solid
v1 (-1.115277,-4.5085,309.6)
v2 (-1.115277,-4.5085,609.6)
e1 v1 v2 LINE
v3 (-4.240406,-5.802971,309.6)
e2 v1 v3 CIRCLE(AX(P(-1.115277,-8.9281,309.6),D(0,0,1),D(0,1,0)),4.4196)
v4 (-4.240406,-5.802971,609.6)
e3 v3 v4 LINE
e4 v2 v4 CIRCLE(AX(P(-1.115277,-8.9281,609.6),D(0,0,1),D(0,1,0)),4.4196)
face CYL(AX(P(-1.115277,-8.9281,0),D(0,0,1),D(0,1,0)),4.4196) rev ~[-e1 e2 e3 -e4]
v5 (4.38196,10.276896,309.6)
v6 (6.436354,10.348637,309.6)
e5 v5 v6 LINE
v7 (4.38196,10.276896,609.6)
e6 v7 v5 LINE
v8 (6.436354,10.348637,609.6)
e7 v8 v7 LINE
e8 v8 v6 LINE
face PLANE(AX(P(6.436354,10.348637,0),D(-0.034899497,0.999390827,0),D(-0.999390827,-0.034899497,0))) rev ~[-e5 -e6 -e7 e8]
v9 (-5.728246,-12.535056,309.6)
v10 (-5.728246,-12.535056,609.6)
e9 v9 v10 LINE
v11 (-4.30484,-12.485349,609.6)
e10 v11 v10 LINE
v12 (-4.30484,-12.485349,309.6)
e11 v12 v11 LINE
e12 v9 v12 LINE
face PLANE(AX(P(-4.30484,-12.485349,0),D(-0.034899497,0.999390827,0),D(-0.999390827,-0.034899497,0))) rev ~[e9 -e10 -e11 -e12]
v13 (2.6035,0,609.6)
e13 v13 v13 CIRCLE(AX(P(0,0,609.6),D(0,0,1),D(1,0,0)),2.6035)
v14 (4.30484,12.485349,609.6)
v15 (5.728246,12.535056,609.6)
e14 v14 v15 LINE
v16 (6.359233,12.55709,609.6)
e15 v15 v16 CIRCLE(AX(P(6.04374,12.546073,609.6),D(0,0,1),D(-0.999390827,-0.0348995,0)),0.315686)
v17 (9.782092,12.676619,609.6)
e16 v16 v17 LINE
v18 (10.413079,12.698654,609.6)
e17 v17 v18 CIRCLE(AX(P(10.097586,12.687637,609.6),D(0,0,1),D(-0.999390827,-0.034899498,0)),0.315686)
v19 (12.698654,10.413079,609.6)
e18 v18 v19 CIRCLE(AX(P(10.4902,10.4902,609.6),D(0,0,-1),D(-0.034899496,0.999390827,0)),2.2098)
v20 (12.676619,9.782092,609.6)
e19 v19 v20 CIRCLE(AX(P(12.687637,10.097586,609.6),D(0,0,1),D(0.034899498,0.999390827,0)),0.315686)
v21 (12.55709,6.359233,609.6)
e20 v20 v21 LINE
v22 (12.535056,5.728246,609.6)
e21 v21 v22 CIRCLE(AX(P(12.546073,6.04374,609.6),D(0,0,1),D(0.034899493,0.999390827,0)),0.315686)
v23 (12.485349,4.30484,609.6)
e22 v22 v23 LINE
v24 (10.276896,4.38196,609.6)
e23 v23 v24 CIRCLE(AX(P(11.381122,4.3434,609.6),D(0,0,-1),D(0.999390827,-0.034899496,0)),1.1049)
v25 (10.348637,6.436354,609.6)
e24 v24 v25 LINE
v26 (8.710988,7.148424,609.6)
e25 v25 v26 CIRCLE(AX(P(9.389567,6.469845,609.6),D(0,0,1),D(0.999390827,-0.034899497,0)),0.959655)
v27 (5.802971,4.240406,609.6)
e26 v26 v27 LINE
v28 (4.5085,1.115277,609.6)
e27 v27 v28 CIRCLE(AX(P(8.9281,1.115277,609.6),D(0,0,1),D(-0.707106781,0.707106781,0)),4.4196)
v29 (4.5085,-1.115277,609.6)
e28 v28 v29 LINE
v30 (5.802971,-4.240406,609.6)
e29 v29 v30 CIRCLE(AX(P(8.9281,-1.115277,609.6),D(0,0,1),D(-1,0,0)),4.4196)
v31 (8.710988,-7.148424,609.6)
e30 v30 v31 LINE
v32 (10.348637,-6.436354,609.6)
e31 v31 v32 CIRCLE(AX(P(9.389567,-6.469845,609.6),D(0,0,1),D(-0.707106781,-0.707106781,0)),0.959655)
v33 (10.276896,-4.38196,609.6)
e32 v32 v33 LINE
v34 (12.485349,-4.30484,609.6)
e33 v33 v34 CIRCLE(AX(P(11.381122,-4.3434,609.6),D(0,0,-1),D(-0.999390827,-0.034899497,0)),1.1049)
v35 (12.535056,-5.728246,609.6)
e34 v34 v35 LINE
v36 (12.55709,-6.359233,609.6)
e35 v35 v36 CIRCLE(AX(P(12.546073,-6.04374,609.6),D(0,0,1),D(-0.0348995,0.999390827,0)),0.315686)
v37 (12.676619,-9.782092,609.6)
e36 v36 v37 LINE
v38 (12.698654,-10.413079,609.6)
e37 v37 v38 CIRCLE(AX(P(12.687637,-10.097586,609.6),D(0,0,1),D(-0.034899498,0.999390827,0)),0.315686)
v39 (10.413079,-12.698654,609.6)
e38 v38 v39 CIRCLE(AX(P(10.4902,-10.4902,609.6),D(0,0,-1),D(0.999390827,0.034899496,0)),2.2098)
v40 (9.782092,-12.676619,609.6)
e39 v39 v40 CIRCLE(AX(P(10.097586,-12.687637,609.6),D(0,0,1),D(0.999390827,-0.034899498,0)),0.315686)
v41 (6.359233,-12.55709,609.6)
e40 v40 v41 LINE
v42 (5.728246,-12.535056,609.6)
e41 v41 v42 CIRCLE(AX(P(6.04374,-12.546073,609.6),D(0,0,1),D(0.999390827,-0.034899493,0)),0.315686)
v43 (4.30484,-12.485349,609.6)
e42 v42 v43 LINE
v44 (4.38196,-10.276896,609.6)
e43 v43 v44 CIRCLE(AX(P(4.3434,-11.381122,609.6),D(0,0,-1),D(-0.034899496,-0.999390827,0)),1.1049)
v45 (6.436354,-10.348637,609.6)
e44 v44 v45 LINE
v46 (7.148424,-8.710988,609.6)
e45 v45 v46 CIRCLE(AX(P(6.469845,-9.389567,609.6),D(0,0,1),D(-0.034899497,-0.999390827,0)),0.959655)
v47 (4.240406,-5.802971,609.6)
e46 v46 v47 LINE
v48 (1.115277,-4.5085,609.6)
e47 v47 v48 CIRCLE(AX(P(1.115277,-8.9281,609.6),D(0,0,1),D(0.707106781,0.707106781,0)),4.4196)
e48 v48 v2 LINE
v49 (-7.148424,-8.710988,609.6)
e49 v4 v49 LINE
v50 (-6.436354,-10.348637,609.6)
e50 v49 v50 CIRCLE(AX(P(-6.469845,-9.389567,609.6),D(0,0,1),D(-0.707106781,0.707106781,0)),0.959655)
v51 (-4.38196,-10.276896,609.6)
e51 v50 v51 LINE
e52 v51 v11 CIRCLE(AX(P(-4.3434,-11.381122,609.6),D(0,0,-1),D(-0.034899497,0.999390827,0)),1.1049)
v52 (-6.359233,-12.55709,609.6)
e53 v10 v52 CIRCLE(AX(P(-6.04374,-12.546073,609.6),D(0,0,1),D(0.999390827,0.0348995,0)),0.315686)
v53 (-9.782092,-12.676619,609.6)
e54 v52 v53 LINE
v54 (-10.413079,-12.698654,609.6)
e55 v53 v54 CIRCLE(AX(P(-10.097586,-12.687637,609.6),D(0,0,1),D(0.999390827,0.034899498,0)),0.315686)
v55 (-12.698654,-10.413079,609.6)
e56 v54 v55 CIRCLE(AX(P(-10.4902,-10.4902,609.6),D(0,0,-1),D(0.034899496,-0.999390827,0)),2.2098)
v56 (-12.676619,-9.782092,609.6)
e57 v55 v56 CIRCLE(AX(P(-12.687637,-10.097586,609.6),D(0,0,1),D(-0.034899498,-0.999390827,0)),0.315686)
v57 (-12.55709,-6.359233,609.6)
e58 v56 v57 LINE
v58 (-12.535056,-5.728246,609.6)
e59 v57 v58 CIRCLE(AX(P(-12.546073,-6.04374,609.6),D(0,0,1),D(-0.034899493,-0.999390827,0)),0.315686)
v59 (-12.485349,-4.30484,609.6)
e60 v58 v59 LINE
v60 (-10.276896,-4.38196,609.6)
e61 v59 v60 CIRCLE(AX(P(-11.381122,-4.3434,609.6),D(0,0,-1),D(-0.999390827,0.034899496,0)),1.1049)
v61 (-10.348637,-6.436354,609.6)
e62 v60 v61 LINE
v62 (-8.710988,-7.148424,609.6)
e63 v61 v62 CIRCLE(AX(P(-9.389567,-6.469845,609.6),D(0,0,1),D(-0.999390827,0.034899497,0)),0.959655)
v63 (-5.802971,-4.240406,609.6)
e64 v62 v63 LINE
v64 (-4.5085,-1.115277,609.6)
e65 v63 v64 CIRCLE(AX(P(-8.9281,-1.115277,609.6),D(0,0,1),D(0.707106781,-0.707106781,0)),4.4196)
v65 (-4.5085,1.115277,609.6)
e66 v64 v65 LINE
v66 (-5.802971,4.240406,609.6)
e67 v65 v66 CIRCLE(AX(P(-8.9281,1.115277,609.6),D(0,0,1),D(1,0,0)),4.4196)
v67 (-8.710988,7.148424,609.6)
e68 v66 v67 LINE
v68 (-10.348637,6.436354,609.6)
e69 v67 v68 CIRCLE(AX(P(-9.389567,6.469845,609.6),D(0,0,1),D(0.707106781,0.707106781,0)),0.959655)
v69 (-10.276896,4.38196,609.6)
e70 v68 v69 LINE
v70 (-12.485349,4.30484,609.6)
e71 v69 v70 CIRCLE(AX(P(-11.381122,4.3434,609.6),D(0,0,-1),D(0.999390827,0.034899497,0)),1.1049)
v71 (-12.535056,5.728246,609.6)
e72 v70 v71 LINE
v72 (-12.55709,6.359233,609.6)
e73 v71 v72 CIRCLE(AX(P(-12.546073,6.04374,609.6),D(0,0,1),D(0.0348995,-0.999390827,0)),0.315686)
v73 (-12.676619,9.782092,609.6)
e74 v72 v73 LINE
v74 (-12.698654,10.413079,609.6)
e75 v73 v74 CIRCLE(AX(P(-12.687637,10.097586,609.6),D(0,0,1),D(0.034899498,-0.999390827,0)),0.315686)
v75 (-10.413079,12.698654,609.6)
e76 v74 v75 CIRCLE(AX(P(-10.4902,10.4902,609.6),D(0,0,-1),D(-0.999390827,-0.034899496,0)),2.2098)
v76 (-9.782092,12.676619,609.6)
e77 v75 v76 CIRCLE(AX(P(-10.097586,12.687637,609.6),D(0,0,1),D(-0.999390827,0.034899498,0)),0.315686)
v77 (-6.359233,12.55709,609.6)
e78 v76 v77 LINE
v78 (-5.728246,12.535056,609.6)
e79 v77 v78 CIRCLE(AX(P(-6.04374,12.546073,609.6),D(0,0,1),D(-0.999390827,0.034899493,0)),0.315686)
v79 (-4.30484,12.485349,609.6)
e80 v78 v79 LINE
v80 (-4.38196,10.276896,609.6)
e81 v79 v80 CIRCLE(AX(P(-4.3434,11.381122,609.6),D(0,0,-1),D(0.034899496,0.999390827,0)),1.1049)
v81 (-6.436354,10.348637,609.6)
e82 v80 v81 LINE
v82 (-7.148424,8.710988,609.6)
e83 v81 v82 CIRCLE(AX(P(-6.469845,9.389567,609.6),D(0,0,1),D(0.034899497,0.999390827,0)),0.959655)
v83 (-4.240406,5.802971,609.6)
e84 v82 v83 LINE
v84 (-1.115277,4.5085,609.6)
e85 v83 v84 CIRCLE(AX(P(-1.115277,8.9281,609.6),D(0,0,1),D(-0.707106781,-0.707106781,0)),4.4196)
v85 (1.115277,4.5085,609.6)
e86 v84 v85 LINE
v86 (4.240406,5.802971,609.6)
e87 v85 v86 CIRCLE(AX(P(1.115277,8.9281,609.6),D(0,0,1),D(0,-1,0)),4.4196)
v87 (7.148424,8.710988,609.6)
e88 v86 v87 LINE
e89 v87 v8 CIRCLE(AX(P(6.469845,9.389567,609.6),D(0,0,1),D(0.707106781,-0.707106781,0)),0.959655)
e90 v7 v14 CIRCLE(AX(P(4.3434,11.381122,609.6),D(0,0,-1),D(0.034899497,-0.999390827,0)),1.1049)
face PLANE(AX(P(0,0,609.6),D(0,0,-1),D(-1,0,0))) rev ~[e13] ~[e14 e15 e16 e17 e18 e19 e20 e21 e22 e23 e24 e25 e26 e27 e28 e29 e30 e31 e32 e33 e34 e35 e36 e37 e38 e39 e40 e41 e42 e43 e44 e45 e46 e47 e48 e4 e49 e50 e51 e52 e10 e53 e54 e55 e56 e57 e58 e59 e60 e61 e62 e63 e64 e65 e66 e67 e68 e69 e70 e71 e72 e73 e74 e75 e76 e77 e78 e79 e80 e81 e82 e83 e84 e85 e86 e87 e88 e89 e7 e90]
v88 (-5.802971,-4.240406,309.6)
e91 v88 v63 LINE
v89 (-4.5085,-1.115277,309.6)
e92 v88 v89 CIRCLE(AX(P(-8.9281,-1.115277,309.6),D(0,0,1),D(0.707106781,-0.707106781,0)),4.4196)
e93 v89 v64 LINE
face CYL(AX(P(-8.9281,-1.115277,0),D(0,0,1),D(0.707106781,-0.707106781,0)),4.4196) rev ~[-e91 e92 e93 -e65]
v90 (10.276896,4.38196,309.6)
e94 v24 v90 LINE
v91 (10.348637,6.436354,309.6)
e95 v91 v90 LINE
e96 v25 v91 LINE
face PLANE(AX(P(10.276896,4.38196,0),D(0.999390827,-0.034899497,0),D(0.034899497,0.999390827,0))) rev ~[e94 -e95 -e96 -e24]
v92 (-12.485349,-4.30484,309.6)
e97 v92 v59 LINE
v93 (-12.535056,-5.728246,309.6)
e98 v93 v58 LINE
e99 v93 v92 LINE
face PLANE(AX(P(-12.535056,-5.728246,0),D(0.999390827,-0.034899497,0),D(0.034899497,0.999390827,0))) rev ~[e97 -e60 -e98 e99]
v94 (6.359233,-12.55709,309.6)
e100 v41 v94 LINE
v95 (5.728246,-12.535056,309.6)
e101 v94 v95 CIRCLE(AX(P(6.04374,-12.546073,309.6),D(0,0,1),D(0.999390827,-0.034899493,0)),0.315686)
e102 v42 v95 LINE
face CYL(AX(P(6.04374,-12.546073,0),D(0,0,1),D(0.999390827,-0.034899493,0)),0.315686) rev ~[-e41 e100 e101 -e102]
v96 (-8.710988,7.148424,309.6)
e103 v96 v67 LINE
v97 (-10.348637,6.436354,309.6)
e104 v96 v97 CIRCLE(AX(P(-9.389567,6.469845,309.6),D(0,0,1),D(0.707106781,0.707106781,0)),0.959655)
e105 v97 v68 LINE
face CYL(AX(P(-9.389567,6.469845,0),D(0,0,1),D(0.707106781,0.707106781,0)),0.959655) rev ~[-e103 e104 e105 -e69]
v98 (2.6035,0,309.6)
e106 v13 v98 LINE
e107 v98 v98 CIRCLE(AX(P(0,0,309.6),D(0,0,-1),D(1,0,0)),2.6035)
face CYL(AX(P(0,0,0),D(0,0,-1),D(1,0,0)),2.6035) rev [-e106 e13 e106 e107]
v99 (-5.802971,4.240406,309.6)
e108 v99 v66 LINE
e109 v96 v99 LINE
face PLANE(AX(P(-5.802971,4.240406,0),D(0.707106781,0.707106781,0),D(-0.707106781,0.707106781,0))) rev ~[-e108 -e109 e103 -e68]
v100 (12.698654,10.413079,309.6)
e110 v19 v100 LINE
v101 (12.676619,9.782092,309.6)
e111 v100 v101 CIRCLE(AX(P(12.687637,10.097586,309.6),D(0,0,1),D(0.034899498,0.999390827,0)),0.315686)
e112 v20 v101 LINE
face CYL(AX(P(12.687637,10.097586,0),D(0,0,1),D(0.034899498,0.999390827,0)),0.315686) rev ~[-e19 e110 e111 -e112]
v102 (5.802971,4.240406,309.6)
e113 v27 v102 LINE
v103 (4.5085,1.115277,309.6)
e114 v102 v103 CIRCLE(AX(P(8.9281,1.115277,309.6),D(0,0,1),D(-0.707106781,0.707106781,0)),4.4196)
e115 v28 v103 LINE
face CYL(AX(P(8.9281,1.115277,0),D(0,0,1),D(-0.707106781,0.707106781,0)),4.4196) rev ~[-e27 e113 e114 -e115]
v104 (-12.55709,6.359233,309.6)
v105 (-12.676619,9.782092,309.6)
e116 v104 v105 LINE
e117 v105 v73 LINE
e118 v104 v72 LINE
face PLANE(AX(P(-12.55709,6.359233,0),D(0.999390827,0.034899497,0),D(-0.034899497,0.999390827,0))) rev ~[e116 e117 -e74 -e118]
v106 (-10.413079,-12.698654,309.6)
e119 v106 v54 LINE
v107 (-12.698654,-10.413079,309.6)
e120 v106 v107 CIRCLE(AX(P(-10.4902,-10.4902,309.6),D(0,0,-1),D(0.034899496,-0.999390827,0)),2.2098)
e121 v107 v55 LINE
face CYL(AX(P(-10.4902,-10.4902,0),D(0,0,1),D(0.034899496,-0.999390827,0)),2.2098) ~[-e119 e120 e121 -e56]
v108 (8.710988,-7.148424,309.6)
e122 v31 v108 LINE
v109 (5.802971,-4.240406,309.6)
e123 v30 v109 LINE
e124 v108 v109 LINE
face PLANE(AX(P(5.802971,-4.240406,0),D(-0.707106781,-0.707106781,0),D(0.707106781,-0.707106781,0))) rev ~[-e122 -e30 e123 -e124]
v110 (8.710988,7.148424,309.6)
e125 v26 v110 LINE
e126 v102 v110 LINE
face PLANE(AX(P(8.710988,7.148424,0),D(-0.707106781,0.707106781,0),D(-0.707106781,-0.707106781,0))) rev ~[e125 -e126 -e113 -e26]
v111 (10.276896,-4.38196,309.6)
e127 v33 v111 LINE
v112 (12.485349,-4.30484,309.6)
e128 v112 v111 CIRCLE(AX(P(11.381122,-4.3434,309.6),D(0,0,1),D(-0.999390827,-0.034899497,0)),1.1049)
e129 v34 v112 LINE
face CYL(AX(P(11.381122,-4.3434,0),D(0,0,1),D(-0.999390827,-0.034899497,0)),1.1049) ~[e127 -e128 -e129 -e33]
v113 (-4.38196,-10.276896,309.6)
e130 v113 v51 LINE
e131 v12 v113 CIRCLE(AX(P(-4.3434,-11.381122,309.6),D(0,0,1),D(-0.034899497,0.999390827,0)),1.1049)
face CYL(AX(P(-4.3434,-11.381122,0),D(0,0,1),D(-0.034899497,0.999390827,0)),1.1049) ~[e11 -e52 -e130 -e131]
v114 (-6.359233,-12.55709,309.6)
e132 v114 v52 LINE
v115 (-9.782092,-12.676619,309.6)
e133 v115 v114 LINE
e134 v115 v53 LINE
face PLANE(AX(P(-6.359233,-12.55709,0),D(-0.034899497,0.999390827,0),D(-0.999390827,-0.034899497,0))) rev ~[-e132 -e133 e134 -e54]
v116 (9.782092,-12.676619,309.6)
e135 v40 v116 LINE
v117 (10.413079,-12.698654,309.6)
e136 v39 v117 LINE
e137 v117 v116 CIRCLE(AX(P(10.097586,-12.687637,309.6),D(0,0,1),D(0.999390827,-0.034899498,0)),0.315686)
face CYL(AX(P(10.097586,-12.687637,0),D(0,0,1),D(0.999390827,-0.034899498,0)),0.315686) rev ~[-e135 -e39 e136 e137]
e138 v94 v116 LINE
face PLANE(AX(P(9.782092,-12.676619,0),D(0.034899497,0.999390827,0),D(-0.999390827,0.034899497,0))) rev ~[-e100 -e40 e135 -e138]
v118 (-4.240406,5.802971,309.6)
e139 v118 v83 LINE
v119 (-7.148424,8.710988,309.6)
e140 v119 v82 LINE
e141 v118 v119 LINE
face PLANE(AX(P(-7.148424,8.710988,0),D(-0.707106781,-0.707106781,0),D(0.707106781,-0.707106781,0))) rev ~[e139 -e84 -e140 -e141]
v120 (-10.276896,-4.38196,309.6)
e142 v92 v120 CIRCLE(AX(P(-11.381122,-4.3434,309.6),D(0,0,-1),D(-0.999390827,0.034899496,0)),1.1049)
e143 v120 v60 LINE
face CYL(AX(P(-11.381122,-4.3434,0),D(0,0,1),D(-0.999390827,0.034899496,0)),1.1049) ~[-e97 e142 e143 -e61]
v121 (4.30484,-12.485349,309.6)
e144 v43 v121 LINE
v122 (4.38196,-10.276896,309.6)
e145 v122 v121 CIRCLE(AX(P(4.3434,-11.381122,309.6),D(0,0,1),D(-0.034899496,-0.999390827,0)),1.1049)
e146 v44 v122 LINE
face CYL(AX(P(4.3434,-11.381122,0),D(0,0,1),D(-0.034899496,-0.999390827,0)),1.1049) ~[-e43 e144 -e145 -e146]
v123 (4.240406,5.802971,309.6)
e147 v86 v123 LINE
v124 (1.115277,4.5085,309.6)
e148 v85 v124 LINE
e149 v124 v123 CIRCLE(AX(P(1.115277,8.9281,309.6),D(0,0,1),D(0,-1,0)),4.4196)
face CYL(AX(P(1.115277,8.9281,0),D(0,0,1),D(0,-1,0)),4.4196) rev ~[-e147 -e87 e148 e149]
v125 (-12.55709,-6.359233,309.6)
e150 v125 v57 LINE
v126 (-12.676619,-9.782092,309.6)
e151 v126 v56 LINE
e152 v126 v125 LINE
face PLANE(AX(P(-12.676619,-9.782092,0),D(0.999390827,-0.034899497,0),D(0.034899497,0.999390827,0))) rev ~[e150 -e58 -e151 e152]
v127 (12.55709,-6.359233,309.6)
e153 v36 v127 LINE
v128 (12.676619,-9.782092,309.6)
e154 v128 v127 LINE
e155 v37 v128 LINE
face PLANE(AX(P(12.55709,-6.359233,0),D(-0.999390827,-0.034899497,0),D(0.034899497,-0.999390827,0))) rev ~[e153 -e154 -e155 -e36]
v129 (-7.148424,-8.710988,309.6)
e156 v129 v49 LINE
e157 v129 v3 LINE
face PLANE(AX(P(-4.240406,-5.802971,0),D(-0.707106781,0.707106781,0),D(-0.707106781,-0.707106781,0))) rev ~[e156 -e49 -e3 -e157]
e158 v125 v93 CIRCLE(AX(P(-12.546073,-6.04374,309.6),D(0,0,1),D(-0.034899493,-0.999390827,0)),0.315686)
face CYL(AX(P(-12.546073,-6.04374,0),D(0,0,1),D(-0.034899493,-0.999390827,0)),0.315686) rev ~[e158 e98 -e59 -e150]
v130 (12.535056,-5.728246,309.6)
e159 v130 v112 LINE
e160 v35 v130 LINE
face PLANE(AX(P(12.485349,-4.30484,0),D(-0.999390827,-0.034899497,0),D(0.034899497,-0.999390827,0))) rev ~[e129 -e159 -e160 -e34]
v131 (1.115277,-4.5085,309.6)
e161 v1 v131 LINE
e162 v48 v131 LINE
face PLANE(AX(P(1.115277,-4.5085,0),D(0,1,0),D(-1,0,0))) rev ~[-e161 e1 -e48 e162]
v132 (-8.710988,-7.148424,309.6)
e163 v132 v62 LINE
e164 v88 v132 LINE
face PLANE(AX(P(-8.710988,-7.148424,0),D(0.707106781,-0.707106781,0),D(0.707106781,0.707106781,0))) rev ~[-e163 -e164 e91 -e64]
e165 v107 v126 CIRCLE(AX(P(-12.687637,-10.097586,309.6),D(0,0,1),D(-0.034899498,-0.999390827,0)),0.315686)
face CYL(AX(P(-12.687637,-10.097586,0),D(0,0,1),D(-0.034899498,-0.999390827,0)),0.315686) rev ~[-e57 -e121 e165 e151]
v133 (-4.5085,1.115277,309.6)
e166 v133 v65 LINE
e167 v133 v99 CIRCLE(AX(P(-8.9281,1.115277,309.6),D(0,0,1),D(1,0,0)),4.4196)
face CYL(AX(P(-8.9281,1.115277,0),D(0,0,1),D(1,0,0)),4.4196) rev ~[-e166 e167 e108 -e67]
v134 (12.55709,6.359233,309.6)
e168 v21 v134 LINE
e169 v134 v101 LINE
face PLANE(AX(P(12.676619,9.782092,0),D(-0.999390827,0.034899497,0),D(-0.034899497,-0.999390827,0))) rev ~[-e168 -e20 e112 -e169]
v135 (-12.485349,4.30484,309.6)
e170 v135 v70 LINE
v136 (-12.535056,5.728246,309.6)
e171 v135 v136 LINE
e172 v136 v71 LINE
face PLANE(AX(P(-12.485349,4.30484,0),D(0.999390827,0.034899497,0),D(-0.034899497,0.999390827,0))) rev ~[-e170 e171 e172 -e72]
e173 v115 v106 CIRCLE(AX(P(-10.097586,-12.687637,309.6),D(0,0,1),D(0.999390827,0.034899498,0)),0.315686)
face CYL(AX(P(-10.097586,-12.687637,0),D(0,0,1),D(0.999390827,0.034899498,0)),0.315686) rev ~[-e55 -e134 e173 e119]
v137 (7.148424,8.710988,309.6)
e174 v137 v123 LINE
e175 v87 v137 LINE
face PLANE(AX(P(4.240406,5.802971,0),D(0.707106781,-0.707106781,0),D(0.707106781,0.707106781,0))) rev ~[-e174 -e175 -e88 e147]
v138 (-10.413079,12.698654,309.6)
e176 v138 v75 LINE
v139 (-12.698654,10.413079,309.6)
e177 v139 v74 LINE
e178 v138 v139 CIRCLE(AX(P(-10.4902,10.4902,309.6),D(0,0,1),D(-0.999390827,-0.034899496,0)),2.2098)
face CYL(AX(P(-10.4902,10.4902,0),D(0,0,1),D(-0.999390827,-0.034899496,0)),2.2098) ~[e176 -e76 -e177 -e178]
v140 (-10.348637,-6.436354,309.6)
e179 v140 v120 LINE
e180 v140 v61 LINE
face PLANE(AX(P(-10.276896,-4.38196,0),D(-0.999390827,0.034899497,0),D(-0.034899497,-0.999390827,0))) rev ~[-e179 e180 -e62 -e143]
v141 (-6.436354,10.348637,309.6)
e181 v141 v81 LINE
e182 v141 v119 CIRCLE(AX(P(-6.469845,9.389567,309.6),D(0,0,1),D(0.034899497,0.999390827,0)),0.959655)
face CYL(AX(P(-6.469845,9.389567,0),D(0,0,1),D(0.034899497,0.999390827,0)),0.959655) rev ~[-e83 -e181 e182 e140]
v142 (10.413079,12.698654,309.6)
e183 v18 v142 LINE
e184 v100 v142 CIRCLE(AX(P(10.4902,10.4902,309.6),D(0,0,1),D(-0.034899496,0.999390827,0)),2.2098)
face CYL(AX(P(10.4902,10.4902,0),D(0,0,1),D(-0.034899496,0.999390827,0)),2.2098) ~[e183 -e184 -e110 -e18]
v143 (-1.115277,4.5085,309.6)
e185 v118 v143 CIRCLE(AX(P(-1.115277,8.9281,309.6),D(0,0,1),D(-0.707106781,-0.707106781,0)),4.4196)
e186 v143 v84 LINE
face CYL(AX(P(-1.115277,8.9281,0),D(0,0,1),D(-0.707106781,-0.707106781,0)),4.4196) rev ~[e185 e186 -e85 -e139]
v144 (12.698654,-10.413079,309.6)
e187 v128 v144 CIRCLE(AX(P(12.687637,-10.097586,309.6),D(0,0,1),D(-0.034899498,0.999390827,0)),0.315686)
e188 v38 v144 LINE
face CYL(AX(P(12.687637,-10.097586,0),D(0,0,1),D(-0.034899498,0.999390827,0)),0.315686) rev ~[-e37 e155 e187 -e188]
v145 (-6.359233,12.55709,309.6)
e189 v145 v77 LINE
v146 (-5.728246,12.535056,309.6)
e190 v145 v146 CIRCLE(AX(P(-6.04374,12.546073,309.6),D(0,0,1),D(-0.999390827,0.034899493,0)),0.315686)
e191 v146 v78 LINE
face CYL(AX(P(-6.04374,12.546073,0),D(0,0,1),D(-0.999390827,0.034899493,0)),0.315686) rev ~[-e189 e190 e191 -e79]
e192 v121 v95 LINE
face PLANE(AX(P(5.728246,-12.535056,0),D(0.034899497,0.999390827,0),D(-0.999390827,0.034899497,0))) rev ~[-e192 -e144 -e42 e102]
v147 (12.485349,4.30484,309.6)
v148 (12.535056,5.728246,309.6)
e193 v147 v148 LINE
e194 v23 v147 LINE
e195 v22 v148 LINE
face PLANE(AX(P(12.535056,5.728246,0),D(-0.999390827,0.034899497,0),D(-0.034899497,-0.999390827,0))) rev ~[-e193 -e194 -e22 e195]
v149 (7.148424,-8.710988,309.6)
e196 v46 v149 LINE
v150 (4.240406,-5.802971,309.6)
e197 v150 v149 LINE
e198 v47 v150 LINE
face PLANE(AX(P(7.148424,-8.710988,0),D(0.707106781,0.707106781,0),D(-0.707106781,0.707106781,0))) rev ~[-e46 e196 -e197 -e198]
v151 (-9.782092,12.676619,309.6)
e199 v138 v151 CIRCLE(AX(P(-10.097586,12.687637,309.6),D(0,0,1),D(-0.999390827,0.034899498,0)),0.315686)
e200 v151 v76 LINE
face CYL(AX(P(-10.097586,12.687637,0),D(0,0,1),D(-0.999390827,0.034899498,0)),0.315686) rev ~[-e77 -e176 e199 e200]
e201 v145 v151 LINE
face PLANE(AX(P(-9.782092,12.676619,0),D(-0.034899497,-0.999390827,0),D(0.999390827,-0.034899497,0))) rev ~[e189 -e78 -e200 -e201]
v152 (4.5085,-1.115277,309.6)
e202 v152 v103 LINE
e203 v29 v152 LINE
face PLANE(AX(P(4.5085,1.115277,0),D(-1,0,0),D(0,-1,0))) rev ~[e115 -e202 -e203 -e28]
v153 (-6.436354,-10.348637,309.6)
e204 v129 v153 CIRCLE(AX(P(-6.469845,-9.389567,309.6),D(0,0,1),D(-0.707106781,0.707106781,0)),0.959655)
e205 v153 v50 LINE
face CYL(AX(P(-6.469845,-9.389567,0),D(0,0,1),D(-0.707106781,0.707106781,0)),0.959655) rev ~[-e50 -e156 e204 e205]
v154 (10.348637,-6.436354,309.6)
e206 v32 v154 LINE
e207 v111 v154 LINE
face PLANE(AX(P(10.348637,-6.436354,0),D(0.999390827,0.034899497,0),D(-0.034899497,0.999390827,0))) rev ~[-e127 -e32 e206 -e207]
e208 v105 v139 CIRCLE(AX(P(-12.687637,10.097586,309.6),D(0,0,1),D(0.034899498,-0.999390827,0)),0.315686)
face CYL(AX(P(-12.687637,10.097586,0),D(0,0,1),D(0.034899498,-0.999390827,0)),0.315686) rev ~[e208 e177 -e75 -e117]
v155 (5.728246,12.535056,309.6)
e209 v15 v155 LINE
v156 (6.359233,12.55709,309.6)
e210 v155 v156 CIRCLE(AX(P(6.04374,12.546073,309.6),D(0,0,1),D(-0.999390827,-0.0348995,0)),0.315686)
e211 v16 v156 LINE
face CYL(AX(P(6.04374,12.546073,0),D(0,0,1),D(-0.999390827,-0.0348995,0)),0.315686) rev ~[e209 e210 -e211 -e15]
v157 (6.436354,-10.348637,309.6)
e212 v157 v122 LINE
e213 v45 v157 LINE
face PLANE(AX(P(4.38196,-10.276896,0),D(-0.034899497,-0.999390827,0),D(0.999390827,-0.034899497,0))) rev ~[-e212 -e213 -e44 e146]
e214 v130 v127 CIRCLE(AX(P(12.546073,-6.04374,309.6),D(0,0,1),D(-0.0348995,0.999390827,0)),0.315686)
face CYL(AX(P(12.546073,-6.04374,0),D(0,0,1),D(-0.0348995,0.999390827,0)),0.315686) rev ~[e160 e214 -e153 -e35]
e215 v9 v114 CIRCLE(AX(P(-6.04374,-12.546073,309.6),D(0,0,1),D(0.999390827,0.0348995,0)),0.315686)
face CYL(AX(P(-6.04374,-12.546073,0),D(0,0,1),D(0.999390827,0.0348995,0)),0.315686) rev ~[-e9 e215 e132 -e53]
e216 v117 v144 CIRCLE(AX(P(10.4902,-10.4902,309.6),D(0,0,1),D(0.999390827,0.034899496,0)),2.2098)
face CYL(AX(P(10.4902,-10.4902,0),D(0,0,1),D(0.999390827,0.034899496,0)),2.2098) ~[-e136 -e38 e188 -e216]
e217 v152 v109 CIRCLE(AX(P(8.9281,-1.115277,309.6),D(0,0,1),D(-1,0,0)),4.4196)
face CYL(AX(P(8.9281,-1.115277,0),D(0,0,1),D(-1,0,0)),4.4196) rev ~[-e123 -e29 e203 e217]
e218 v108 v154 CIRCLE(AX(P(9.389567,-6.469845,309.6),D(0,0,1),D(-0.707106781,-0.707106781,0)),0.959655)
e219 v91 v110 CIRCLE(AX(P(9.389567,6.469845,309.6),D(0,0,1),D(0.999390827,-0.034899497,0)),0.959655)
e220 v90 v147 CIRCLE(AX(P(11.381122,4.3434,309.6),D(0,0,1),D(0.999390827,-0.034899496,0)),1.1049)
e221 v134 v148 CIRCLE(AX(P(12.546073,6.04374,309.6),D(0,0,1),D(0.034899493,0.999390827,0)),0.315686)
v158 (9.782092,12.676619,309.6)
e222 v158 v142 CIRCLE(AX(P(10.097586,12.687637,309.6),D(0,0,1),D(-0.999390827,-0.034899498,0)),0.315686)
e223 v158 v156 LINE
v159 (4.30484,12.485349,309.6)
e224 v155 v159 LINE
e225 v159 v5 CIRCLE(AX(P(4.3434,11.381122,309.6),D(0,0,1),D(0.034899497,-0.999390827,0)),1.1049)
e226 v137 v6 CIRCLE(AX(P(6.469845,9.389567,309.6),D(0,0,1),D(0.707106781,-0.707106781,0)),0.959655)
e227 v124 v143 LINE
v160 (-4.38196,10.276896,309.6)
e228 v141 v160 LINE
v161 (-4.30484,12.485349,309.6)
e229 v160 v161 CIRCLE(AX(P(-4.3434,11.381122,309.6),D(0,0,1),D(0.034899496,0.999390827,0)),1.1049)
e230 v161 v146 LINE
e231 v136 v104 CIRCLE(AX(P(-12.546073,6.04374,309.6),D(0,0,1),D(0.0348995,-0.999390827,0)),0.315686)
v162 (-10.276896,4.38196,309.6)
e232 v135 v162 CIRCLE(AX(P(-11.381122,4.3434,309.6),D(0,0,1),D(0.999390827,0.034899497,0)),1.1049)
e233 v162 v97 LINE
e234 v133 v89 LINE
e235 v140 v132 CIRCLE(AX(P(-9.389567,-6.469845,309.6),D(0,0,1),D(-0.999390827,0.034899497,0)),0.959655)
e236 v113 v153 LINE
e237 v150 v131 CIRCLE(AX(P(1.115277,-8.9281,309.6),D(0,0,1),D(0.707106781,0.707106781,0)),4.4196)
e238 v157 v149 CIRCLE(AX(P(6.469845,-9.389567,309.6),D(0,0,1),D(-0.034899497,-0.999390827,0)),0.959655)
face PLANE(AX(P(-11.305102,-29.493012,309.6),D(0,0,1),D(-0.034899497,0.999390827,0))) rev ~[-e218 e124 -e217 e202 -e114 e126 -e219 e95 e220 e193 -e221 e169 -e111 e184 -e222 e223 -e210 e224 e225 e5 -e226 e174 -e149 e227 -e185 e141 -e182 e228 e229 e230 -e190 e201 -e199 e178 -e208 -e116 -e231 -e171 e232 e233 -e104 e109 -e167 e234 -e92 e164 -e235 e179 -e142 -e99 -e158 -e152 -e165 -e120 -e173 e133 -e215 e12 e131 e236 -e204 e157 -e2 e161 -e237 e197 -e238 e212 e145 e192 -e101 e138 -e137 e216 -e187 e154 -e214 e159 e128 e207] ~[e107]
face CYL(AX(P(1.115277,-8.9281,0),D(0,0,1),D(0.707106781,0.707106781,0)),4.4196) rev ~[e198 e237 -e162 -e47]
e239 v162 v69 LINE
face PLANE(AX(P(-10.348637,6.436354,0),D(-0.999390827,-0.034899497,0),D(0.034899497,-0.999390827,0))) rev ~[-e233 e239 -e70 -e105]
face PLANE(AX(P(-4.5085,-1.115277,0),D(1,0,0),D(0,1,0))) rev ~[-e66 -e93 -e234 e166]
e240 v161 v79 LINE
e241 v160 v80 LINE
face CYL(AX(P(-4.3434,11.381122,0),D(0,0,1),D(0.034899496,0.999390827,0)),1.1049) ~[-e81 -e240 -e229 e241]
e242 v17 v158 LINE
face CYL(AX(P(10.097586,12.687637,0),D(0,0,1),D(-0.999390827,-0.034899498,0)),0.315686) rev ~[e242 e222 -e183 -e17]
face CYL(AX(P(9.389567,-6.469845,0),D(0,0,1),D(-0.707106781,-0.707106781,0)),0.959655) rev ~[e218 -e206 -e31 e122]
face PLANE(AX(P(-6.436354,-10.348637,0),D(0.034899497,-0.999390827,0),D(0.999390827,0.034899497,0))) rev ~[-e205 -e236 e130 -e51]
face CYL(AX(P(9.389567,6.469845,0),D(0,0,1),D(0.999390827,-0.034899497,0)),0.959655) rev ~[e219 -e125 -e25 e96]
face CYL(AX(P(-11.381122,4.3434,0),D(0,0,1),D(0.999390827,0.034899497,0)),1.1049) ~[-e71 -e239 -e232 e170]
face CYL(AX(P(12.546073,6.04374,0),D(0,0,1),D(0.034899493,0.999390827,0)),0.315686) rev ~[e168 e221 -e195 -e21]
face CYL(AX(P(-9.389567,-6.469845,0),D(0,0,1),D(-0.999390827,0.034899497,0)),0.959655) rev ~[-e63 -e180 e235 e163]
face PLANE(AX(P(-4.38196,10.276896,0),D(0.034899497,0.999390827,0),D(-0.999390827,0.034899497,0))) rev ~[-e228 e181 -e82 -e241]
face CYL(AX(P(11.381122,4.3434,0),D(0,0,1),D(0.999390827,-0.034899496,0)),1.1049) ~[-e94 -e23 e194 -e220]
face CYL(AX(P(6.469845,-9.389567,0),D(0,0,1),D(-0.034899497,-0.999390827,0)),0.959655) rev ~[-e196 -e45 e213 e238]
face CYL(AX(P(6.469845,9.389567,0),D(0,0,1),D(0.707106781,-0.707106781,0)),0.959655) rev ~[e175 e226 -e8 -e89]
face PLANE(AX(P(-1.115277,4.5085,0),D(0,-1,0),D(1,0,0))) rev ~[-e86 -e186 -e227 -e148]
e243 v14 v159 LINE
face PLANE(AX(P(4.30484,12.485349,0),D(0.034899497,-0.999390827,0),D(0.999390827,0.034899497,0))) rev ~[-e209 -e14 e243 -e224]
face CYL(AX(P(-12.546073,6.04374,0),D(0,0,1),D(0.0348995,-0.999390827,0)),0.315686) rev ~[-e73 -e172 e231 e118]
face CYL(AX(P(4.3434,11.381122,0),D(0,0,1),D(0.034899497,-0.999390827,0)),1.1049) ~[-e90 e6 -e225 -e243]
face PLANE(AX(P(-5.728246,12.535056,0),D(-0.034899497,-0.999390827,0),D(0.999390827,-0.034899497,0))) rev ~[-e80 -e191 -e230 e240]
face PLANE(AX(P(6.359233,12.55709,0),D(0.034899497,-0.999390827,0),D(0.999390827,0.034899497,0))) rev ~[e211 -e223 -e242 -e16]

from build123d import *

# Parameters (mm, degrees)
SKETCH3_R               = 2.6035
EXTRUDE1_DEPTH          = 609.6
CUT_EXTRUDE1_DEPTH      = 64
CUT_EXTRUDE1_DEPTH_BACK = 64
SKETCH4_W               = 919.2
SKETCH4_H               = 58.016705437


with BuildPart() as part:
    # Sketch3 → Extrude1 (new, symmetric)
    with BuildSketch(Plane.XY):
        with BuildLine():
            Line((-1.115277175, 4.5085), (1.115277175, 4.5085))
            ThreePointArc((1.115277175, 4.5085), (2.806584872, 4.844922018), (4.240406305, 5.80297087))
            Line((4.240406305, 5.80297087), (7.148423664, 8.710988229))
            ThreePointArc((7.148423664, 8.710988229), (7.349906316, 9.772227925), (6.436353897, 10.348636575))
            Line((6.436353897, 10.348636575), (4.381960454, 10.276895575))
            ThreePointArc((4.381960454, 10.276895575), (3.239173075, 11.342562046), (4.304839546, 12.485349424))
            Line((4.304839546, 12.485349424), (5.728246175, 12.535055879))
            ThreePointArc((5.728246175, 12.535055879), (6.054756855, 12.230579745), (6.35923299, 12.557090424))
            Line((6.35923299, 12.557090424), (9.782092278, 12.676619304))
            ThreePointArc((9.782092278, 12.676619304), (10.108602958, 12.37214317), (10.413079092, 12.69865385))
            ThreePointArc((10.413079092, 12.69865385), (12.052764565, 12.052764565), (12.69865385, 10.413079092))
            ThreePointArc((12.69865385, 10.413079092), (12.37214317, 10.108602958), (12.676619304, 9.782092278))
            Line((12.676619304, 9.782092278), (12.557090424, 6.35923299))
            ThreePointArc((12.557090424, 6.35923299), (12.230579745, 6.054756855), (12.535055879, 5.728246175))
            Line((12.535055879, 5.728246175), (12.485349424, 4.304839546))
            ThreePointArc((12.485349424, 4.304839546), (11.342562046, 3.239173075), (10.276895575, 4.381960454))
            Line((10.276895575, 4.381960454), (10.348636575, 6.436353897))
            ThreePointArc((10.348636575, 6.436353897), (9.772227925, 7.349906316), (8.710988229, 7.148423664))
            Line((8.710988229, 7.148423664), (5.80297087, 4.240406305))
            ThreePointArc((5.80297087, 4.240406305), (4.844922018, 2.806584872), (4.5085, 1.115277175))
            Line((4.5085, 1.115277175), (4.5085, -1.115277175))
            ThreePointArc((4.5085, -1.115277175), (4.844922018, -2.806584872), (5.80297087, -4.240406305))
            Line((5.80297087, -4.240406305), (8.710988229, -7.148423664))
            ThreePointArc((8.710988229, -7.148423664), (9.772227925, -7.349906316), (10.348636575, -6.436353897))
            Line((10.348636575, -6.436353897), (10.276895575, -4.381960454))
            ThreePointArc((10.276895575, -4.381960454), (11.342562046, -3.239173075), (12.485349424, -4.304839546))
            Line((12.485349424, -4.304839546), (12.535055879, -5.728246175))
            ThreePointArc((12.535055879, -5.728246175), (12.230579745, -6.054756855), (12.557090424, -6.35923299))
            Line((12.557090424, -6.35923299), (12.676619304, -9.782092278))
            ThreePointArc((12.676619304, -9.782092278), (12.37214317, -10.108602958), (12.69865385, -10.413079092))
            ThreePointArc((12.69865385, -10.413079092), (12.052764565, -12.052764565), (10.413079092, -12.69865385))
            ThreePointArc((10.413079092, -12.69865385), (10.108602958, -12.37214317), (9.782092278, -12.676619304))
            Line((9.782092278, -12.676619304), (6.35923299, -12.557090424))
            ThreePointArc((6.35923299, -12.557090424), (6.054756855, -12.230579745), (5.728246175, -12.535055879))
            Line((5.728246175, -12.535055879), (4.304839546, -12.485349424))
            ThreePointArc((4.304839546, -12.485349424), (3.239173075, -11.342562046), (4.381960454, -10.276895575))
            Line((4.381960454, -10.276895575), (6.436353897, -10.348636575))
            ThreePointArc((6.436353897, -10.348636575), (7.349906316, -9.772227925), (7.148423664, -8.710988229))
            Line((7.148423664, -8.710988229), (4.240406305, -5.80297087))
            ThreePointArc((4.240406305, -5.80297087), (2.806584872, -4.844922018), (1.115277175, -4.5085))
            Line((1.115277175, -4.5085), (-1.115277175, -4.5085))
            ThreePointArc((-1.115277175, -4.5085), (-2.806584872, -4.844922018), (-4.240406305, -5.80297087))
            Line((-4.240406305, -5.80297087), (-7.148423664, -8.710988229))
            ThreePointArc((-7.148423664, -8.710988229), (-7.349906316, -9.772227925), (-6.436353897, -10.348636575))
            Line((-6.436353897, -10.348636575), (-4.381960454, -10.276895575))
            ThreePointArc((-4.381960454, -10.276895575), (-3.239173075, -11.342562046), (-4.304839546, -12.485349424))
            Line((-4.304839546, -12.485349424), (-5.728246175, -12.535055879))
            ThreePointArc((-5.728246175, -12.535055879), (-6.054756855, -12.230579745), (-6.35923299, -12.557090424))
            Line((-6.35923299, -12.557090424), (-9.782092278, -12.676619304))
            ThreePointArc((-9.782092278, -12.676619304), (-10.108602958, -12.37214317), (-10.413079092, -12.69865385))
            ThreePointArc((-10.413079092, -12.69865385), (-12.052764565, -12.052764565), (-12.69865385, -10.413079092))
            ThreePointArc((-12.69865385, -10.413079092), (-12.37214317, -10.108602958), (-12.676619304, -9.782092278))
            Line((-12.676619304, -9.782092278), (-12.557090424, -6.35923299))
            ThreePointArc((-12.557090424, -6.35923299), (-12.230579745, -6.054756855), (-12.535055879, -5.728246175))
            Line((-12.535055879, -5.728246175), (-12.485349424, -4.304839546))
            ThreePointArc((-12.485349424, -4.304839546), (-11.342562046, -3.239173075), (-10.276895575, -4.381960454))
            Line((-10.276895575, -4.381960454), (-10.348636575, -6.436353897))
            ThreePointArc((-10.348636575, -6.436353897), (-9.772227925, -7.349906316), (-8.710988229, -7.148423664))
            Line((-8.710988229, -7.148423664), (-5.80297087, -4.240406305))
            ThreePointArc((-5.80297087, -4.240406305), (-4.844922018, -2.806584872), (-4.5085, -1.115277175))
            Line((-4.5085, -1.115277175), (-4.5085, 1.115277175))
            ThreePointArc((-4.5085, 1.115277175), (-4.844922018, 2.806584872), (-5.80297087, 4.240406305))
            Line((-5.80297087, 4.240406305), (-8.710988229, 7.148423664))
            ThreePointArc((-8.710988229, 7.148423664), (-9.772227925, 7.349906316), (-10.348636575, 6.436353897))
            Line((-10.348636575, 6.436353897), (-10.276895575, 4.381960454))
            ThreePointArc((-10.276895575, 4.381960454), (-11.342562046, 3.239173075), (-12.485349424, 4.304839546))
            Line((-12.485349424, 4.304839546), (-12.535055879, 5.728246175))
            ThreePointArc((-12.535055879, 5.728246175), (-12.230579745, 6.054756855), (-12.557090424, 6.35923299))
            Line((-12.557090424, 6.35923299), (-12.676619304, 9.782092278))
            ThreePointArc((-12.676619304, 9.782092278), (-12.37214317, 10.108602958), (-12.69865385, 10.413079092))
            ThreePointArc((-12.69865385, 10.413079092), (-12.052764565, 12.052764565), (-10.413079092, 12.69865385))
            ThreePointArc((-10.413079092, 12.69865385), (-10.108602958, 12.37214317), (-9.782092278, 12.676619304))
            Line((-9.782092278, 12.676619304), (-6.35923299, 12.557090424))
            ThreePointArc((-6.35923299, 12.557090424), (-6.054756855, 12.230579745), (-5.728246175, 12.535055879))
            Line((-5.728246175, 12.535055879), (-4.304839546, 12.485349424))
            ThreePointArc((-4.304839546, 12.485349424), (-3.239173075, 11.342562046), (-4.381960454, 10.276895575))
            Line((-4.381960454, 10.276895575), (-6.436353897, 10.348636575))
            ThreePointArc((-6.436353897, 10.348636575), (-7.349906316, 9.772227925), (-7.148423664, 8.710988229))
            Line((-7.148423664, 8.710988229), (-4.240406305, 5.80297087))
            ThreePointArc((-4.240406305, 5.80297087), (-2.806584872, 4.844922018), (-1.115277175, 4.5085))
        make_face()
        Circle(SKETCH3_R, mode=Mode.SUBTRACT)
    extrude(amount=EXTRUDE1_DEPTH, both=True)

    # Sketch4 → Cut-Extrude1 (cut, two sides: drawn at the far end of the back side and taken through both)
    with BuildSketch(Plane(origin=(-12.319997369, -0.430223788, 0), x_dir=(0, 0, 1), z_dir=(-0.9993908270190897, -0.03489949670267645, 0)).offset(-CUT_EXTRUDE1_DEPTH_BACK)):
        with Locations((-150, -0.072150678)):
            Rectangle(SKETCH4_W, SKETCH4_H)
    extrude(amount=CUT_EXTRUDE1_DEPTH + CUT_EXTRUDE1_DEPTH_BACK, mode=Mode.SUBTRACT)


solid = part.part
